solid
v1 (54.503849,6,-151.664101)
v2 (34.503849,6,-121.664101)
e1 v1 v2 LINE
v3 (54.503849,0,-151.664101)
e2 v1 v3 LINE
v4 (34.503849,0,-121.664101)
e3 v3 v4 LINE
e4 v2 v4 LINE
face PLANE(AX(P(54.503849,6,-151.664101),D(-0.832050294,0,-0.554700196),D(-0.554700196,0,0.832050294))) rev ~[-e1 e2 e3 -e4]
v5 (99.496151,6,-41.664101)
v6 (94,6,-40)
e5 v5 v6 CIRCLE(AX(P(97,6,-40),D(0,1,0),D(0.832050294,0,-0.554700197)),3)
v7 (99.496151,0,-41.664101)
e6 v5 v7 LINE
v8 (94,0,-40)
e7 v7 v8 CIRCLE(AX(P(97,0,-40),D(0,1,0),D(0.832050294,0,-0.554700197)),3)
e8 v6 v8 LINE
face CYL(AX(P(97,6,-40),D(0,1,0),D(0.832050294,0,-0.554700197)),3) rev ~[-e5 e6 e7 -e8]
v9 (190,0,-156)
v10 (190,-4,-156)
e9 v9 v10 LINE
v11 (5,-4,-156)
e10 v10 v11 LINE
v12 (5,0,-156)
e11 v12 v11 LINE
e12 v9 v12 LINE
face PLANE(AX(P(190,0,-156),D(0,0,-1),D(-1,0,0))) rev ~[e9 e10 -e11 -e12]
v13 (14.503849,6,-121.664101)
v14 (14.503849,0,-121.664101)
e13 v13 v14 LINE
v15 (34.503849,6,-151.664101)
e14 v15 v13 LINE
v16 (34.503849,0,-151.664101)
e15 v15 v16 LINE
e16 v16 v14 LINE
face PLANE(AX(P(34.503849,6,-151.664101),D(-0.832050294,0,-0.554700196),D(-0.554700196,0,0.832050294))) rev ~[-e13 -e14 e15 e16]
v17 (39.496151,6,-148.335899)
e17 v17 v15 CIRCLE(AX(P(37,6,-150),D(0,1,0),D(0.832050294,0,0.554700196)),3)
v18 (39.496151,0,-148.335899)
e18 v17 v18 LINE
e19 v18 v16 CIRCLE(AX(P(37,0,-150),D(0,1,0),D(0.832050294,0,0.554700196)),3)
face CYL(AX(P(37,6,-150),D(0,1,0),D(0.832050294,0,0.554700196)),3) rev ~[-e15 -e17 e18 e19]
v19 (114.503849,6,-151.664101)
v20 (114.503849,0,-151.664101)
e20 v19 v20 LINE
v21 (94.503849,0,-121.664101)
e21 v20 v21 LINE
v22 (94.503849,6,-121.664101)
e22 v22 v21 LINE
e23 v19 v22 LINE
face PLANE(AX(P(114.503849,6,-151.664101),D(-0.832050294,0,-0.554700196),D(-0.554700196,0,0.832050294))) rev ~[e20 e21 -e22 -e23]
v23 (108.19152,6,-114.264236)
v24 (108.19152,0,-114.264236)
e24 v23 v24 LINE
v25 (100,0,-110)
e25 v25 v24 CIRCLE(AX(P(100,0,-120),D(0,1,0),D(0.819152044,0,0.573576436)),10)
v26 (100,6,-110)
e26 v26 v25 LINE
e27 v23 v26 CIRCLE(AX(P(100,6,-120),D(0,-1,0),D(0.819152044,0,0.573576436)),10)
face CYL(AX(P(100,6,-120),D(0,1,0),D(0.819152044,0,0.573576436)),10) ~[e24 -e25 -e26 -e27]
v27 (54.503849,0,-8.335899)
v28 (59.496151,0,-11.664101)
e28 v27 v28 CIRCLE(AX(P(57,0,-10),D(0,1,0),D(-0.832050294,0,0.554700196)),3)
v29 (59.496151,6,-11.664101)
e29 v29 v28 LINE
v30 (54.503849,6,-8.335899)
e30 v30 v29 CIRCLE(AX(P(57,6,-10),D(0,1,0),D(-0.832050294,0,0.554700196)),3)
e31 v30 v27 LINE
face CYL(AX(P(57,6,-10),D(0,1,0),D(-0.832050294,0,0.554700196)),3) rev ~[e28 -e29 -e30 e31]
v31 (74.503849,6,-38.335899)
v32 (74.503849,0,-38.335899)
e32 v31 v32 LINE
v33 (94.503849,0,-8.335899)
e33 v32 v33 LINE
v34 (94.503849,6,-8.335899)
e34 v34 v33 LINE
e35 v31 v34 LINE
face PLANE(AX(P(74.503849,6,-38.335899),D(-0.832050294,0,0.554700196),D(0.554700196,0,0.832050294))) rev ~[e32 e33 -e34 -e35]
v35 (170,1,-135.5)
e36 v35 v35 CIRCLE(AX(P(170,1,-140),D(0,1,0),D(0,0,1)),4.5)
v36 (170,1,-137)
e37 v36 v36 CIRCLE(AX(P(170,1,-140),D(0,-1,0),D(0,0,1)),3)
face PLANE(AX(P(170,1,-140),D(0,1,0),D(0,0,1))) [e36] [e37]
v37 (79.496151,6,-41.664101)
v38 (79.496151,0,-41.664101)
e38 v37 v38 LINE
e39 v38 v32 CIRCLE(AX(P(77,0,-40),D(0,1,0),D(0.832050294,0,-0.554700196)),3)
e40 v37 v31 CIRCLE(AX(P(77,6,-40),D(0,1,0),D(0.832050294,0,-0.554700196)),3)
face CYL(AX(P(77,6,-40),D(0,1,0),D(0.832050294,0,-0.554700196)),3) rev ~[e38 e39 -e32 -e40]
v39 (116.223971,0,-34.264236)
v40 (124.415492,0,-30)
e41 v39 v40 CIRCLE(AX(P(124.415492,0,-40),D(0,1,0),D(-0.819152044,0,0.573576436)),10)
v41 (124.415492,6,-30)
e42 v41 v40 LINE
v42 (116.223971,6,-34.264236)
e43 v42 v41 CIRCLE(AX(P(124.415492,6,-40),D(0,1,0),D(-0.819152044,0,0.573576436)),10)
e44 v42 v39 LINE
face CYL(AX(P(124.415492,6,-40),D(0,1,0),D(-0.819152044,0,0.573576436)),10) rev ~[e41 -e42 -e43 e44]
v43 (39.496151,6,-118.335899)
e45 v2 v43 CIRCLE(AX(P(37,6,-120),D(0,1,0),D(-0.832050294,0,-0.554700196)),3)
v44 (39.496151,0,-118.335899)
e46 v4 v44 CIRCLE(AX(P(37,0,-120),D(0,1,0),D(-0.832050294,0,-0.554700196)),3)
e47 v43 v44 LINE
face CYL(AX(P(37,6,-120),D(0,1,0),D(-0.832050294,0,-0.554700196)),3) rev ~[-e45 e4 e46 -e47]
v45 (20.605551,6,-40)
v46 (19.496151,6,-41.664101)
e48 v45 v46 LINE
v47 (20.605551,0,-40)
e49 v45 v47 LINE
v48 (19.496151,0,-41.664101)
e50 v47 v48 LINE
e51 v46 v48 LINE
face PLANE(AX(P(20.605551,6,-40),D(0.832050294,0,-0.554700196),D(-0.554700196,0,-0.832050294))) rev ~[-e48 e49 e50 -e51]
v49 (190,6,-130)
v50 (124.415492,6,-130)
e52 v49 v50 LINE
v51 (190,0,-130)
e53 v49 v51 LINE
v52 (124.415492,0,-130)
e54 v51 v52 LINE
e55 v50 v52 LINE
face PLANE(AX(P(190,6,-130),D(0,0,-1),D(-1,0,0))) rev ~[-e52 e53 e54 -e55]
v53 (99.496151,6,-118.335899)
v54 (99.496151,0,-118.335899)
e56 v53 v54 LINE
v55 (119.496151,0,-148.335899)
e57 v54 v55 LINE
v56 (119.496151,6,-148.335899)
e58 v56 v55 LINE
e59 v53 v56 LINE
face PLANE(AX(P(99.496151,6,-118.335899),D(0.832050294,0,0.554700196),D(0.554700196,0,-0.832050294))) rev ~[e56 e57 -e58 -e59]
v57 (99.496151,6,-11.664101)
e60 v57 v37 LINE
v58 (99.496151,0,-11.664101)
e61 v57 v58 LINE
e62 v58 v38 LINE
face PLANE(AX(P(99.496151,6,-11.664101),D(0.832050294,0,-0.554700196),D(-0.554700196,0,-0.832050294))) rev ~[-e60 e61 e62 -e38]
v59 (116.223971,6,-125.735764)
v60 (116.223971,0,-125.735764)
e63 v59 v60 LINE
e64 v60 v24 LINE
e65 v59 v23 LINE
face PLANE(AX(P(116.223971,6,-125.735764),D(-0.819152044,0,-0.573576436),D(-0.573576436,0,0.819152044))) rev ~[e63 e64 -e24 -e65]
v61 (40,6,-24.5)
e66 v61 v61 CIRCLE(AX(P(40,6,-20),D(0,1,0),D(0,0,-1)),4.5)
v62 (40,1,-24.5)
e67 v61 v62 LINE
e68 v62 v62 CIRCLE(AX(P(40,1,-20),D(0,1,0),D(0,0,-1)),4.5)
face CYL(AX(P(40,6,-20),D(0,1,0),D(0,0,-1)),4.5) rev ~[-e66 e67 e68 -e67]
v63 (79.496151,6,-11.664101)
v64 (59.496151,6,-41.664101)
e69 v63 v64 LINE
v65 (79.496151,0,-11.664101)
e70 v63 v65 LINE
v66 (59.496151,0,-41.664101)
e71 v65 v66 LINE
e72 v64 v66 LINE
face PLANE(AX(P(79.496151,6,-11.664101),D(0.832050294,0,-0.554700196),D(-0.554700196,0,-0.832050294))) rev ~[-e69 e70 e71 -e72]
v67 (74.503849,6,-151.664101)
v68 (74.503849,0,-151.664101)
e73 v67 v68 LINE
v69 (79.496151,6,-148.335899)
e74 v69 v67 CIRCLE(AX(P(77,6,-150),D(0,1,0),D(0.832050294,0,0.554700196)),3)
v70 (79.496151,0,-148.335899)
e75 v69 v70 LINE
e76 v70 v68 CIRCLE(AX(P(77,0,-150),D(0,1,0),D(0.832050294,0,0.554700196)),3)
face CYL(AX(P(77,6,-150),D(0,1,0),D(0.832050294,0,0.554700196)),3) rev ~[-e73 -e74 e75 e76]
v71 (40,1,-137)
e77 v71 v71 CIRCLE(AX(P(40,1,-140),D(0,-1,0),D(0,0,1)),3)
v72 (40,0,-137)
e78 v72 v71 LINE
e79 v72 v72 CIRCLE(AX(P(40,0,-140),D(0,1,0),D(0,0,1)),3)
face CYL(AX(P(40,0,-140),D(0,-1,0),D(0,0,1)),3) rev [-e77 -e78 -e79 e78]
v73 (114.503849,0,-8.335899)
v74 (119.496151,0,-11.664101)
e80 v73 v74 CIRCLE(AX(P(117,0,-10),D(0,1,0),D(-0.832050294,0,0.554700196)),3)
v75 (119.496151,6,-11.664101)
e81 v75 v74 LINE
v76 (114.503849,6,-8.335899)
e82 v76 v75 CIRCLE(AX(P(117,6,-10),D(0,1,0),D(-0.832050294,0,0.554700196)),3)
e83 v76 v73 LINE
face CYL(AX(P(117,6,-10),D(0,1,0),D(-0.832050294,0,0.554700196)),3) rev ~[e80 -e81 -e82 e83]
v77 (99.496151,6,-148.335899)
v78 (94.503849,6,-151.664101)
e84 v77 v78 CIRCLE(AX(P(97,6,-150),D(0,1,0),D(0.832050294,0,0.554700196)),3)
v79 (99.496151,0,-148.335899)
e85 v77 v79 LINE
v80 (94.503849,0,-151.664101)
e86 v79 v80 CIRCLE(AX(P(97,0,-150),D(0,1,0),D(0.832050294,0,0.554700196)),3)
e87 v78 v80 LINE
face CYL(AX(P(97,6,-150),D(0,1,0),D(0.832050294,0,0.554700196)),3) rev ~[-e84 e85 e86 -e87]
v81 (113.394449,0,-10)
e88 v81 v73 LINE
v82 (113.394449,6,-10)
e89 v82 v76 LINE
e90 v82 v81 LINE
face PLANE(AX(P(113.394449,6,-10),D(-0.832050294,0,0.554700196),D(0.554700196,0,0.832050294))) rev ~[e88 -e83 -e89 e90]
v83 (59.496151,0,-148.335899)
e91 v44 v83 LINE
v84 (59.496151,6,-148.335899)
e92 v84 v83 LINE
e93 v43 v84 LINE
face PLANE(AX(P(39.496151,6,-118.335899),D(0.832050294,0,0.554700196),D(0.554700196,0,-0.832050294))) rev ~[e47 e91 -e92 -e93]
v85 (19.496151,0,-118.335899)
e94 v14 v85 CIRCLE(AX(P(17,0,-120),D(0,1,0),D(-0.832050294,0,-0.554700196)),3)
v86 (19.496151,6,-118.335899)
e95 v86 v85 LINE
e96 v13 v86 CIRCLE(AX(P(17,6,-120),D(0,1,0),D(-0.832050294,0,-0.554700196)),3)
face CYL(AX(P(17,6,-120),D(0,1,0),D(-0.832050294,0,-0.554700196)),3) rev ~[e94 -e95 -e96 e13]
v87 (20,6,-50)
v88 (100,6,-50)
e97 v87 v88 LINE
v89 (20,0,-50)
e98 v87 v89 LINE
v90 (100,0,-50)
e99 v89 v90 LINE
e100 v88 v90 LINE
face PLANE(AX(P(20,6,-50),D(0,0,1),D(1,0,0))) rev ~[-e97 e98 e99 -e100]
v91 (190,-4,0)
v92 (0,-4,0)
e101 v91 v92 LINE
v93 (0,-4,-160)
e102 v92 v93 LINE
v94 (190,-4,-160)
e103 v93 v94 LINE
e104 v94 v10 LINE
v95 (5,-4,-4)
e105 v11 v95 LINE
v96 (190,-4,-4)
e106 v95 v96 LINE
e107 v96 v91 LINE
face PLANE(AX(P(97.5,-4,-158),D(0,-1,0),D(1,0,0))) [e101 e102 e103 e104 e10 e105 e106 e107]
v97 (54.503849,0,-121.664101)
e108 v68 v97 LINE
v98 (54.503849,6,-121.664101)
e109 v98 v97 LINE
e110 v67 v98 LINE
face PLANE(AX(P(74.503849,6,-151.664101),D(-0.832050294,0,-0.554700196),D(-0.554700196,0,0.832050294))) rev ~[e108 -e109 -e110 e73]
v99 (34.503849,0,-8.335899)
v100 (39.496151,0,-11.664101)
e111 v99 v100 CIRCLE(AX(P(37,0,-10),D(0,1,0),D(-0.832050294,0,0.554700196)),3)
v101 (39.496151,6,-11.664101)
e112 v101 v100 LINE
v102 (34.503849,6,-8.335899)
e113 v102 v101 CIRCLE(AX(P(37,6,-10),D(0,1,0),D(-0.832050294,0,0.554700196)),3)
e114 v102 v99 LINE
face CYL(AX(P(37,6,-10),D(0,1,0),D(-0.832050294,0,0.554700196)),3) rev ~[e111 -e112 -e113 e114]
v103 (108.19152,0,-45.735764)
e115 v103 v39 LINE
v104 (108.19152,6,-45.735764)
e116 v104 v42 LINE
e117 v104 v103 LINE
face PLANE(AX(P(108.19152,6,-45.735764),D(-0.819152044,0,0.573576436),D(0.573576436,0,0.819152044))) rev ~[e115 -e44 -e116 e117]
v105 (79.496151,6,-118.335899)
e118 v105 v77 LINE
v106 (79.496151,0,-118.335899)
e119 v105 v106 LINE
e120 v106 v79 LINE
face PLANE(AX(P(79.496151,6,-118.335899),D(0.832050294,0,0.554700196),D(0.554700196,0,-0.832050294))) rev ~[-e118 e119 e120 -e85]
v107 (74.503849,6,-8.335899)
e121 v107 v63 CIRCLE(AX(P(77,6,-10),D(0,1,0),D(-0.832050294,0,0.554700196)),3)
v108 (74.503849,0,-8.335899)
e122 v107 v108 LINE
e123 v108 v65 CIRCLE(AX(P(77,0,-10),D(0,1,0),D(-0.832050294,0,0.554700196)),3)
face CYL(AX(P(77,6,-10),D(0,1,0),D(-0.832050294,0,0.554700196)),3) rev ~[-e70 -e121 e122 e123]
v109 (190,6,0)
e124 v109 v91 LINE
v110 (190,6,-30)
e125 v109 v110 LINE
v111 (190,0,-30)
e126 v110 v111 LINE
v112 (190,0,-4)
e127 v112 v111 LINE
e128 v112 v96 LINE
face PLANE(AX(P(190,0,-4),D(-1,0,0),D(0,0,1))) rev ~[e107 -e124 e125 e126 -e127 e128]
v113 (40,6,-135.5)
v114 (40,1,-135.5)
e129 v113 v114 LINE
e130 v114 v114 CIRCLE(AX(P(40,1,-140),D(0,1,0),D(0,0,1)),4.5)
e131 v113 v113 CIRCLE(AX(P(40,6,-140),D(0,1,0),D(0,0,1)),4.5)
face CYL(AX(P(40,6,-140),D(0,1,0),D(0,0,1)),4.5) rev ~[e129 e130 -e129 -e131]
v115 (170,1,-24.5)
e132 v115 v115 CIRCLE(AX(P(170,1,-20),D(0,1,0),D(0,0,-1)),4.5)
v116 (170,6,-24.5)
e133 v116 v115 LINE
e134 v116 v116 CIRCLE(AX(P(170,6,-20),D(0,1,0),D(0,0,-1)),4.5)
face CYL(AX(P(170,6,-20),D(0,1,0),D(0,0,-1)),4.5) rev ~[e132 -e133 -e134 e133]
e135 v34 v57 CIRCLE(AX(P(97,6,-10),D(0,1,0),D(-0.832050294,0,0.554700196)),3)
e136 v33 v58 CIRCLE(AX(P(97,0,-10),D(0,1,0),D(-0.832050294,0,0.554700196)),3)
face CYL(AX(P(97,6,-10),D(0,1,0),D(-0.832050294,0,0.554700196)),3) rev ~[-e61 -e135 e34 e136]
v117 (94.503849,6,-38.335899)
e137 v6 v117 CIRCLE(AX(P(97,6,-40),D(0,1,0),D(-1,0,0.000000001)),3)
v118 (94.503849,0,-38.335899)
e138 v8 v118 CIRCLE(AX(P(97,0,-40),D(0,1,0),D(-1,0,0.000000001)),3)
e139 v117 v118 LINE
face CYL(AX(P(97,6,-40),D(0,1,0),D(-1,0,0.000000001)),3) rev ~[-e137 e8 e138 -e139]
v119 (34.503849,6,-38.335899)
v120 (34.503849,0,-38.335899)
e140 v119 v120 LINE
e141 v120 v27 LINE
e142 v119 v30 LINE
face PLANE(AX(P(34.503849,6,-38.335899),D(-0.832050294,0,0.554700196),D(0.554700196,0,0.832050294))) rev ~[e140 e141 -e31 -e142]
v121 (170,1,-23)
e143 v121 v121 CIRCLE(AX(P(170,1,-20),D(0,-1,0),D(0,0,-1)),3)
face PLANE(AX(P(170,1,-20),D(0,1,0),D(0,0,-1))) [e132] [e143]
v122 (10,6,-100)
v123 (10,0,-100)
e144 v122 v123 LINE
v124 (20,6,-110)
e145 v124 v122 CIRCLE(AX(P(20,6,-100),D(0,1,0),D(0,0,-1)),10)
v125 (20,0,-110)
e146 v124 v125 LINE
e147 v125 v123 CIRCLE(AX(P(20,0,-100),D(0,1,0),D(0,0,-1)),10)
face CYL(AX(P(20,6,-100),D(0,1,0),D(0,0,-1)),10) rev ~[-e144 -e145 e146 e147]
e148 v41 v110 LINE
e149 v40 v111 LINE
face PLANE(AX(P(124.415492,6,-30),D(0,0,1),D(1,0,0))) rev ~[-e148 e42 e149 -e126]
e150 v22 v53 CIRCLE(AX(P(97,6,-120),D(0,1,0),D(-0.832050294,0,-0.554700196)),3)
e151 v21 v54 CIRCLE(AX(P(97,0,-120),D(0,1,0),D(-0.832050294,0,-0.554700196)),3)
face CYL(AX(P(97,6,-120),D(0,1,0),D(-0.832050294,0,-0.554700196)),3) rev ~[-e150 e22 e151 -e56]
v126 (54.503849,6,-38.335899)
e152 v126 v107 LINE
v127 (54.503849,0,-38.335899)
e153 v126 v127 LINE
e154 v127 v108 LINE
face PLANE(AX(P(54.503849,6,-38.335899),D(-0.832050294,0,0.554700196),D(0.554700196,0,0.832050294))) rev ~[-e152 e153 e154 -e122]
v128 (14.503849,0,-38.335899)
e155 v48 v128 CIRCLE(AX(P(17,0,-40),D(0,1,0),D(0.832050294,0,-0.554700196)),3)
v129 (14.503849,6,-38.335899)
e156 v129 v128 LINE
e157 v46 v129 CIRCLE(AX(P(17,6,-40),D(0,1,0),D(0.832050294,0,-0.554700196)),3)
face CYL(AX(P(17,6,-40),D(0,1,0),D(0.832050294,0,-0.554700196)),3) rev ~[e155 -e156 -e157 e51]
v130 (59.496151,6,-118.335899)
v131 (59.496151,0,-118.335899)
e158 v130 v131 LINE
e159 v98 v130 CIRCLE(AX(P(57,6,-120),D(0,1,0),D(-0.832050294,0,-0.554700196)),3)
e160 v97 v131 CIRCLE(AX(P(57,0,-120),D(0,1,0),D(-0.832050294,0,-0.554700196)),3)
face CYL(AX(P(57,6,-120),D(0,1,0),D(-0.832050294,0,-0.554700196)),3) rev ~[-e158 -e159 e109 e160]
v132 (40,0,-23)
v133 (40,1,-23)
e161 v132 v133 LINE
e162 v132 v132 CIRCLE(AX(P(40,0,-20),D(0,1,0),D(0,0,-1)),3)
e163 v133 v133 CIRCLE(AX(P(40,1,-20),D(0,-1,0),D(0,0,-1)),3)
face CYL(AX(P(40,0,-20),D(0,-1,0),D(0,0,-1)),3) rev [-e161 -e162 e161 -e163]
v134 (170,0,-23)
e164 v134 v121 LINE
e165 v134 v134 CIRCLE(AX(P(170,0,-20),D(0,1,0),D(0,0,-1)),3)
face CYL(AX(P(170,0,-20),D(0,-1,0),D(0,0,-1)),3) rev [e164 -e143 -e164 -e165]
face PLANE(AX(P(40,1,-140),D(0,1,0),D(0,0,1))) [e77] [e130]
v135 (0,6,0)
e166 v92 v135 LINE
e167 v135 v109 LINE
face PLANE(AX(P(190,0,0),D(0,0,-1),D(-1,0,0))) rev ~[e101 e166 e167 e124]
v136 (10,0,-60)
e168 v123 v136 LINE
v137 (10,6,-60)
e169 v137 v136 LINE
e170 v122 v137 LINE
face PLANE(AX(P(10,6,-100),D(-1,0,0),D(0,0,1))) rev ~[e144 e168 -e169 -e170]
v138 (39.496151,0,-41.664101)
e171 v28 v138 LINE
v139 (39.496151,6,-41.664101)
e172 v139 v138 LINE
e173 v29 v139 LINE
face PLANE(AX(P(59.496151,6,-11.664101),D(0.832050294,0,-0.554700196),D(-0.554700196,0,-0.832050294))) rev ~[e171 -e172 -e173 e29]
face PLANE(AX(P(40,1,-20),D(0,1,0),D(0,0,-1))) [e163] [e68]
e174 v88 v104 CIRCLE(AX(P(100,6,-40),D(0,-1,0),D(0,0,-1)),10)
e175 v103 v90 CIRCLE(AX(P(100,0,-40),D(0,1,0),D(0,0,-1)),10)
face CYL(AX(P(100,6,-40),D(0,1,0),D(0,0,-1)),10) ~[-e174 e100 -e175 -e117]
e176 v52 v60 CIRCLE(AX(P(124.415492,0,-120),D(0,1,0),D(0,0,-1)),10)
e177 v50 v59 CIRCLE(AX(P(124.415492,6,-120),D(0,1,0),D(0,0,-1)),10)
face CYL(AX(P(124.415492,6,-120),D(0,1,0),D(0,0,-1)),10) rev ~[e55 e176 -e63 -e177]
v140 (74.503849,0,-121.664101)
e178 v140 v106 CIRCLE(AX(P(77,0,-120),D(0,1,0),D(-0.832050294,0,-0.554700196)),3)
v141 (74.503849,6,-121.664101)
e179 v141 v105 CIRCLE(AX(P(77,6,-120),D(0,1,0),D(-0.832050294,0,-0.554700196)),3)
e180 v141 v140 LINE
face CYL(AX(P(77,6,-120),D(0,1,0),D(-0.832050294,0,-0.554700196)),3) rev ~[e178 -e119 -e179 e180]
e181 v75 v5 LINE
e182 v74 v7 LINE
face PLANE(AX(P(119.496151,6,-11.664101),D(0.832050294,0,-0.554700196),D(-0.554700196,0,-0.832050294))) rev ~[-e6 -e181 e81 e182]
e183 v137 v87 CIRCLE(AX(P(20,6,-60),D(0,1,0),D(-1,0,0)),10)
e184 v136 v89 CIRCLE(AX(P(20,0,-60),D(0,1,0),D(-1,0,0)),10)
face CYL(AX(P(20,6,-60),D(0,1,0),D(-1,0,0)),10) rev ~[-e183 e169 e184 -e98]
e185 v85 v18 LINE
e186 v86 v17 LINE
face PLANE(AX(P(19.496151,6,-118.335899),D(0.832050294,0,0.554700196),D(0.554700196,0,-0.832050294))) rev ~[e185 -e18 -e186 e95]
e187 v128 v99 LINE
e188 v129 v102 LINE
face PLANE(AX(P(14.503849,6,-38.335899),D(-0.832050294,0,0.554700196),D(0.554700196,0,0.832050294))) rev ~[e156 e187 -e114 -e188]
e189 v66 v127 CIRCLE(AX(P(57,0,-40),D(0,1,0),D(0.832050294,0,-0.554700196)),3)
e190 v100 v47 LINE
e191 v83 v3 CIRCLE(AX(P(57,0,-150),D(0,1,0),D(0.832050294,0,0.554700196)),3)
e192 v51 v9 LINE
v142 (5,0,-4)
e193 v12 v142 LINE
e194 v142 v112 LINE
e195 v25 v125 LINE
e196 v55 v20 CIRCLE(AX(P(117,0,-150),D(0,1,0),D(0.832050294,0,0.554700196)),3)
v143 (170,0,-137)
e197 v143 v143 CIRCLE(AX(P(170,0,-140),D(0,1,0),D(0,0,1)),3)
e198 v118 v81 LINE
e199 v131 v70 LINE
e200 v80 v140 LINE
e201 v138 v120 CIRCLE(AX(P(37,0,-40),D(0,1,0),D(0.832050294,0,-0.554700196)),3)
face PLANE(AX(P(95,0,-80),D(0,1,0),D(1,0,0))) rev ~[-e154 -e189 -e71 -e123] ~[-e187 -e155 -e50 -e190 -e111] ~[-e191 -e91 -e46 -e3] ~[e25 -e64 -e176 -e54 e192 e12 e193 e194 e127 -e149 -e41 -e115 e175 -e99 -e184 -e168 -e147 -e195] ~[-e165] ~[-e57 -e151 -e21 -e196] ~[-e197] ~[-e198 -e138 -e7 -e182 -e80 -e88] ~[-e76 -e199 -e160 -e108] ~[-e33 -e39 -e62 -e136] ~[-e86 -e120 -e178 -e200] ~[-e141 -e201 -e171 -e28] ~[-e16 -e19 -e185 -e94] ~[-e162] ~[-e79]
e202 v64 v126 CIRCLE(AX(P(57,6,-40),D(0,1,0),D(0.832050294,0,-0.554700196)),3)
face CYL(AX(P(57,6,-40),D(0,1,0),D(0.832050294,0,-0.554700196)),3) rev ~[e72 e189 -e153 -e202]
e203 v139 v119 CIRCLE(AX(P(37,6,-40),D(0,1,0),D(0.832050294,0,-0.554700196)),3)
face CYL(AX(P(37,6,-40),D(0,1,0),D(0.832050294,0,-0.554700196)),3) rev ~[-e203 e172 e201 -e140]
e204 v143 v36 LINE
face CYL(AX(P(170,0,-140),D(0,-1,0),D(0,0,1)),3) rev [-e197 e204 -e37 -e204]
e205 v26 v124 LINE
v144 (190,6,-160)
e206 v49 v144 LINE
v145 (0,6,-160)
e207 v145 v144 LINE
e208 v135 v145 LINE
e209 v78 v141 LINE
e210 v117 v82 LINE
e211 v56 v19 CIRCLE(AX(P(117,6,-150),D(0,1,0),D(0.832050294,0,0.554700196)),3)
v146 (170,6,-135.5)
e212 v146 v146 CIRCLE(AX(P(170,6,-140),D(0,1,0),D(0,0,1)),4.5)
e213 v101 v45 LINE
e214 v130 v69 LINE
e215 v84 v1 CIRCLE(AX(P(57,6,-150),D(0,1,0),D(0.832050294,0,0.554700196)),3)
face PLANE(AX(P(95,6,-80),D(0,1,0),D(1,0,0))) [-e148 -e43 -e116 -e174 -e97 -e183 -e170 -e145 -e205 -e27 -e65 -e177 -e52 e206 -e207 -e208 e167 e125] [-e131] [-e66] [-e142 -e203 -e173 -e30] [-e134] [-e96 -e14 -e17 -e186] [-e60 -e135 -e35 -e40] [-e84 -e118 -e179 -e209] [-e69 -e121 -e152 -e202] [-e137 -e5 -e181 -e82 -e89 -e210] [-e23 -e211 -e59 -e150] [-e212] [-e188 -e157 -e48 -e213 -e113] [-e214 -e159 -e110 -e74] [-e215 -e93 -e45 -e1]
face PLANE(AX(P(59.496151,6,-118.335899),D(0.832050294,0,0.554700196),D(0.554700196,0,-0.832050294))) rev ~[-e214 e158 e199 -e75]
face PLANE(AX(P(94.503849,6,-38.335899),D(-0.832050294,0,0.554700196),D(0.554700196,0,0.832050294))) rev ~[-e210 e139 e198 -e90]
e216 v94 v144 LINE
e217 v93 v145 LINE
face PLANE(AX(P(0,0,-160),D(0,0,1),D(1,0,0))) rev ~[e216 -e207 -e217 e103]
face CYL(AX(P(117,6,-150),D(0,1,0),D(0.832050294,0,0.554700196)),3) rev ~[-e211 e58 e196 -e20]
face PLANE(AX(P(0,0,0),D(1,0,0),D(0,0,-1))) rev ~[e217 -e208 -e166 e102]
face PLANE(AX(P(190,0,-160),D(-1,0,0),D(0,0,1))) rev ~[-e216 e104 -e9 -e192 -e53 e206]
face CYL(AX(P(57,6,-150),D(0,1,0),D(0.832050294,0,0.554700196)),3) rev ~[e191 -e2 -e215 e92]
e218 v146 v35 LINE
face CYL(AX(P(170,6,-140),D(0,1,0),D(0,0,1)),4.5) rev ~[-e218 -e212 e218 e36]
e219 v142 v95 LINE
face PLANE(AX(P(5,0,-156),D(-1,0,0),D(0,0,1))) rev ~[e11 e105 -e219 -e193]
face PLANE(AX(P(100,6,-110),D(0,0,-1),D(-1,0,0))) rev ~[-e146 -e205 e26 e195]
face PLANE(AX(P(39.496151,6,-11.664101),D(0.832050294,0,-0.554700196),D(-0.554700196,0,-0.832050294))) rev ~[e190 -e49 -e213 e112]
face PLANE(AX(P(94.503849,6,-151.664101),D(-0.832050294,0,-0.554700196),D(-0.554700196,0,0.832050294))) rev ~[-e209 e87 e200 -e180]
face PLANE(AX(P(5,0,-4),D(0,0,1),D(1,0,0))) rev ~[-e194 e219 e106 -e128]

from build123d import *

# Parameters (mm, degrees)
SKETCH1_W           = 190
SKETCH1_H           = 160
BOSS_EXTRUDE1_DEPTH = 6
CUT_EXTRUDE1_DEPTH  = 10
SKETCH3_W           = 185
SKETCH3_H           = 4
SKETCH3_W_2         = 5
SKETCH3_H_2         = 152
BOSS_EXTRUDE3_DEPTH = 4
SKETCH4_R           = 4.5
CUT_EXTRUDE2_DEPTH  = 5
SKETCH5_R           = 3
CUT_EXTRUDE7_DEPTH  = 5


with BuildPart() as part:
    # Sketch1 → Boss-Extrude1 (new body)
    with BuildSketch(Plane(origin=(0, 0, 0), x_dir=(1, 0, 0), z_dir=(0, 1, 0))):
        with Locations((95, 80)):
            Rectangle(SKETCH1_W, SKETCH1_H)
    extrude(amount=BOSS_EXTRUDE1_DEPTH)

    # Sketch2 → Cut-Extrude1 (cut)
    with BuildSketch(Plane(origin=(0, 6, 0), x_dir=(1, 0, 0), z_dir=(0, 1, 0))):
        with BuildLine():
            ThreePointArc((34.503849117, 8.335899411), (38.664100589, 7.503849117), (39.496150883, 11.664100589))
            Line((39.496150883, 11.664100589), (20.605551275, 40))
            Line((20.605551275, 40), (19.496150883, 41.664100589))
            ThreePointArc((19.496150883, 41.664100589), (15.335899411, 42.496150883), (14.503849117, 38.335899411))
            Line((14.503849117, 38.335899411), (34.503849117, 8.335899411))
        make_face()
        with BuildLine():
            Line((10, 100), (10, 60))
            ThreePointArc((10, 60), (12.928932188, 52.928932188), (20, 50))
            Line((20, 50), (100, 50))
            ThreePointArc((100, 50), (104.617486132, 48.870108332), (108.191520443, 45.735764364))
            Line((108.191520443, 45.735764364), (116.223971332, 34.264235636))
            ThreePointArc((116.223971332, 34.264235636), (119.798005643, 31.129891668), (124.415491775, 30))
            Line((124.415491775, 30), (190, 30))
            Line((190, 30), (190, 130))
            Line((190, 130), (124.415491775, 130))
            ThreePointArc((124.415491775, 130), (119.798005643, 128.870108332), (116.223971332, 125.735764364))
            Line((116.223971332, 125.735764364), (108.191520443, 114.264235636))
            ThreePointArc((108.191520443, 114.264235636), (104.617486132, 111.129891668), (100, 110))
            Line((100, 110), (20, 110))
            ThreePointArc((20, 110), (12.928932188, 107.071067812), (10, 100))
        make_face()
        with BuildLine():
            Line((34.503849117, 38.335899411), (54.503849117, 8.335899411))
            ThreePointArc((54.503849117, 8.335899411), (58.664100589, 7.503849117), (59.496150883, 11.664100589))
            Line((59.496150883, 11.664100589), (39.496150883, 41.664100589))
            ThreePointArc((39.496150883, 41.664100589), (35.335899411, 42.496150883), (34.503849117, 38.335899411))
        make_face()
        with BuildLine():
            Line((54.503849117, 38.335899411), (74.503849117, 8.335899411))
            ThreePointArc((74.503849117, 8.335899411), (78.664100589, 7.503849117), (79.496150883, 11.664100589))
            Line((79.496150883, 11.664100589), (59.496150883, 41.664100589))
            ThreePointArc((59.496150883, 41.664100589), (55.335899411, 42.496150883), (54.503849117, 38.335899411))
        make_face()
        with BuildLine():
            Line((74.503849117, 38.335899411), (94.503849117, 8.335899411))
            ThreePointArc((94.503849117, 8.335899411), (98.664100589, 7.503849117), (99.496150883, 11.664100589))
            Line((99.496150883, 11.664100589), (79.496150883, 41.664100589))
            ThreePointArc((79.496150883, 41.664100589), (75.335899411, 42.496150883), (74.503849117, 38.335899411))
        make_face()
        with BuildLine():
            Line((94.503849117, 38.335899411), (113.394448725, 10))
            Line((113.394448725, 10), (114.503849117, 8.335899411))
            ThreePointArc((114.503849117, 8.335899411), (118.664100589, 7.503849117), (119.496150883, 11.664100589))
            Line((119.496150883, 11.664100589), (99.496150883, 41.664100589))
            ThreePointArc((99.496150883, 41.664100589), (96.130647554, 42.871276079), (94, 40))
            ThreePointArc((94, 40), (94.128723921, 39.130647554), (94.503849117, 38.335899411))
        make_face()
        with BuildLine():
            ThreePointArc((94.503849117, 121.664100589), (95.335899411, 117.503849117), (99.496150883, 118.335899411))
            Line((99.496150883, 118.335899411), (119.496150883, 148.335899411))
            ThreePointArc((119.496150883, 148.335899411), (118.664100589, 152.496150883), (114.503849117, 151.664100589))
            Line((114.503849117, 151.664100589), (94.503849117, 121.664100589))
        make_face()
        with BuildLine():
            ThreePointArc((74.503849117, 121.664100589), (75.335899411, 117.503849117), (79.496150883, 118.335899411))
            Line((79.496150883, 118.335899411), (99.496150883, 148.335899411))
            ThreePointArc((99.496150883, 148.335899411), (98.664100589, 152.496150883), (94.503849117, 151.664100589))
            Line((94.503849117, 151.664100589), (74.503849117, 121.664100589))
        make_face()
        with BuildLine():
            ThreePointArc((54.503849117, 121.664100589), (55.335899411, 117.503849117), (59.496150883, 118.335899411))
            Line((59.496150883, 118.335899411), (79.496150883, 148.335899411))
            ThreePointArc((79.496150883, 148.335899411), (78.664100589, 152.496150883), (74.503849117, 151.664100589))
            Line((74.503849117, 151.664100589), (54.503849117, 121.664100589))
        make_face()
        with BuildLine():
            ThreePointArc((34.503849117, 121.664100589), (35.335899411, 117.503849117), (39.496150883, 118.335899411))
            Line((39.496150883, 118.335899411), (59.496150883, 148.335899411))
            ThreePointArc((59.496150883, 148.335899411), (58.664100589, 152.496150883), (54.503849117, 151.664100589))
            Line((54.503849117, 151.664100589), (34.503849117, 121.664100589))
        make_face()
        with BuildLine():
            ThreePointArc((14.503849117, 121.664100589), (15.335899411, 117.503849117), (19.496150883, 118.335899411))
            Line((19.496150883, 118.335899411), (39.496150883, 148.335899411))
            ThreePointArc((39.496150883, 148.335899411), (38.664100589, 152.496150883), (34.503849117, 151.664100589))
            Line((34.503849117, 151.664100589), (14.503849117, 121.664100589))
        make_face()
    extrude(amount=-CUT_EXTRUDE1_DEPTH, mode=Mode.SUBTRACT)

    # Sketch3 → Boss-Extrude3 (add)
    with BuildSketch(Plane.XZ):
        with Locations((97.5, -158)):
            Rectangle(SKETCH3_W, SKETCH3_H)
        with Locations((2.5, -158)):
            Rectangle(SKETCH3_W_2, SKETCH3_H)
        with Locations((2.5, -80)):
            Rectangle(SKETCH3_W_2, SKETCH3_H_2)
        with Locations((97.5, -2)):
            Rectangle(SKETCH3_W, SKETCH3_H)
        with Locations((2.5, -2)):
            Rectangle(SKETCH3_W_2, SKETCH3_H)
    extrude(amount=BOSS_EXTRUDE3_DEPTH)

    # Sketch4 → Cut-Extrude2 (cut)
    with BuildSketch(Plane(origin=(0, 6, 0), x_dir=(1, 0, 0), z_dir=(0, 1, 0))):
        with Locations(Location((170, 140, 0), (0, 0, 270))):
            Circle(SKETCH4_R)
        with Locations(Location((40, 140, 0), (0, 0, 270))):
            Circle(SKETCH4_R)
        with Locations(Location((170, 20, 0), (0, 0, 90))):
            Circle(SKETCH4_R)
        with Locations(Location((40, 20, 0), (0, 0, 90))):
            Circle(SKETCH4_R)
    extrude(amount=-CUT_EXTRUDE2_DEPTH, mode=Mode.SUBTRACT)

    # Sketch5 → Cut-Extrude7 (cut)
    with BuildSketch(Plane(origin=(0, 0, 0), x_dir=(1, 0, 0), z_dir=(0, 1, 0))):
        with Locations(Location((170, 140, 0), (0, 0, 270))):
            Circle(SKETCH5_R)
        with Locations(Location((40, 140, 0), (0, 0, 270))):
            Circle(SKETCH5_R)
        with Locations(Location((170, 20, 0), (0, 0, 90))):
            Circle(SKETCH5_R)
        with Locations(Location((40, 20, 0), (0, 0, 90))):
            Circle(SKETCH5_R)
    extrude(amount=CUT_EXTRUDE7_DEPTH, mode=Mode.SUBTRACT)


solid = part.part
